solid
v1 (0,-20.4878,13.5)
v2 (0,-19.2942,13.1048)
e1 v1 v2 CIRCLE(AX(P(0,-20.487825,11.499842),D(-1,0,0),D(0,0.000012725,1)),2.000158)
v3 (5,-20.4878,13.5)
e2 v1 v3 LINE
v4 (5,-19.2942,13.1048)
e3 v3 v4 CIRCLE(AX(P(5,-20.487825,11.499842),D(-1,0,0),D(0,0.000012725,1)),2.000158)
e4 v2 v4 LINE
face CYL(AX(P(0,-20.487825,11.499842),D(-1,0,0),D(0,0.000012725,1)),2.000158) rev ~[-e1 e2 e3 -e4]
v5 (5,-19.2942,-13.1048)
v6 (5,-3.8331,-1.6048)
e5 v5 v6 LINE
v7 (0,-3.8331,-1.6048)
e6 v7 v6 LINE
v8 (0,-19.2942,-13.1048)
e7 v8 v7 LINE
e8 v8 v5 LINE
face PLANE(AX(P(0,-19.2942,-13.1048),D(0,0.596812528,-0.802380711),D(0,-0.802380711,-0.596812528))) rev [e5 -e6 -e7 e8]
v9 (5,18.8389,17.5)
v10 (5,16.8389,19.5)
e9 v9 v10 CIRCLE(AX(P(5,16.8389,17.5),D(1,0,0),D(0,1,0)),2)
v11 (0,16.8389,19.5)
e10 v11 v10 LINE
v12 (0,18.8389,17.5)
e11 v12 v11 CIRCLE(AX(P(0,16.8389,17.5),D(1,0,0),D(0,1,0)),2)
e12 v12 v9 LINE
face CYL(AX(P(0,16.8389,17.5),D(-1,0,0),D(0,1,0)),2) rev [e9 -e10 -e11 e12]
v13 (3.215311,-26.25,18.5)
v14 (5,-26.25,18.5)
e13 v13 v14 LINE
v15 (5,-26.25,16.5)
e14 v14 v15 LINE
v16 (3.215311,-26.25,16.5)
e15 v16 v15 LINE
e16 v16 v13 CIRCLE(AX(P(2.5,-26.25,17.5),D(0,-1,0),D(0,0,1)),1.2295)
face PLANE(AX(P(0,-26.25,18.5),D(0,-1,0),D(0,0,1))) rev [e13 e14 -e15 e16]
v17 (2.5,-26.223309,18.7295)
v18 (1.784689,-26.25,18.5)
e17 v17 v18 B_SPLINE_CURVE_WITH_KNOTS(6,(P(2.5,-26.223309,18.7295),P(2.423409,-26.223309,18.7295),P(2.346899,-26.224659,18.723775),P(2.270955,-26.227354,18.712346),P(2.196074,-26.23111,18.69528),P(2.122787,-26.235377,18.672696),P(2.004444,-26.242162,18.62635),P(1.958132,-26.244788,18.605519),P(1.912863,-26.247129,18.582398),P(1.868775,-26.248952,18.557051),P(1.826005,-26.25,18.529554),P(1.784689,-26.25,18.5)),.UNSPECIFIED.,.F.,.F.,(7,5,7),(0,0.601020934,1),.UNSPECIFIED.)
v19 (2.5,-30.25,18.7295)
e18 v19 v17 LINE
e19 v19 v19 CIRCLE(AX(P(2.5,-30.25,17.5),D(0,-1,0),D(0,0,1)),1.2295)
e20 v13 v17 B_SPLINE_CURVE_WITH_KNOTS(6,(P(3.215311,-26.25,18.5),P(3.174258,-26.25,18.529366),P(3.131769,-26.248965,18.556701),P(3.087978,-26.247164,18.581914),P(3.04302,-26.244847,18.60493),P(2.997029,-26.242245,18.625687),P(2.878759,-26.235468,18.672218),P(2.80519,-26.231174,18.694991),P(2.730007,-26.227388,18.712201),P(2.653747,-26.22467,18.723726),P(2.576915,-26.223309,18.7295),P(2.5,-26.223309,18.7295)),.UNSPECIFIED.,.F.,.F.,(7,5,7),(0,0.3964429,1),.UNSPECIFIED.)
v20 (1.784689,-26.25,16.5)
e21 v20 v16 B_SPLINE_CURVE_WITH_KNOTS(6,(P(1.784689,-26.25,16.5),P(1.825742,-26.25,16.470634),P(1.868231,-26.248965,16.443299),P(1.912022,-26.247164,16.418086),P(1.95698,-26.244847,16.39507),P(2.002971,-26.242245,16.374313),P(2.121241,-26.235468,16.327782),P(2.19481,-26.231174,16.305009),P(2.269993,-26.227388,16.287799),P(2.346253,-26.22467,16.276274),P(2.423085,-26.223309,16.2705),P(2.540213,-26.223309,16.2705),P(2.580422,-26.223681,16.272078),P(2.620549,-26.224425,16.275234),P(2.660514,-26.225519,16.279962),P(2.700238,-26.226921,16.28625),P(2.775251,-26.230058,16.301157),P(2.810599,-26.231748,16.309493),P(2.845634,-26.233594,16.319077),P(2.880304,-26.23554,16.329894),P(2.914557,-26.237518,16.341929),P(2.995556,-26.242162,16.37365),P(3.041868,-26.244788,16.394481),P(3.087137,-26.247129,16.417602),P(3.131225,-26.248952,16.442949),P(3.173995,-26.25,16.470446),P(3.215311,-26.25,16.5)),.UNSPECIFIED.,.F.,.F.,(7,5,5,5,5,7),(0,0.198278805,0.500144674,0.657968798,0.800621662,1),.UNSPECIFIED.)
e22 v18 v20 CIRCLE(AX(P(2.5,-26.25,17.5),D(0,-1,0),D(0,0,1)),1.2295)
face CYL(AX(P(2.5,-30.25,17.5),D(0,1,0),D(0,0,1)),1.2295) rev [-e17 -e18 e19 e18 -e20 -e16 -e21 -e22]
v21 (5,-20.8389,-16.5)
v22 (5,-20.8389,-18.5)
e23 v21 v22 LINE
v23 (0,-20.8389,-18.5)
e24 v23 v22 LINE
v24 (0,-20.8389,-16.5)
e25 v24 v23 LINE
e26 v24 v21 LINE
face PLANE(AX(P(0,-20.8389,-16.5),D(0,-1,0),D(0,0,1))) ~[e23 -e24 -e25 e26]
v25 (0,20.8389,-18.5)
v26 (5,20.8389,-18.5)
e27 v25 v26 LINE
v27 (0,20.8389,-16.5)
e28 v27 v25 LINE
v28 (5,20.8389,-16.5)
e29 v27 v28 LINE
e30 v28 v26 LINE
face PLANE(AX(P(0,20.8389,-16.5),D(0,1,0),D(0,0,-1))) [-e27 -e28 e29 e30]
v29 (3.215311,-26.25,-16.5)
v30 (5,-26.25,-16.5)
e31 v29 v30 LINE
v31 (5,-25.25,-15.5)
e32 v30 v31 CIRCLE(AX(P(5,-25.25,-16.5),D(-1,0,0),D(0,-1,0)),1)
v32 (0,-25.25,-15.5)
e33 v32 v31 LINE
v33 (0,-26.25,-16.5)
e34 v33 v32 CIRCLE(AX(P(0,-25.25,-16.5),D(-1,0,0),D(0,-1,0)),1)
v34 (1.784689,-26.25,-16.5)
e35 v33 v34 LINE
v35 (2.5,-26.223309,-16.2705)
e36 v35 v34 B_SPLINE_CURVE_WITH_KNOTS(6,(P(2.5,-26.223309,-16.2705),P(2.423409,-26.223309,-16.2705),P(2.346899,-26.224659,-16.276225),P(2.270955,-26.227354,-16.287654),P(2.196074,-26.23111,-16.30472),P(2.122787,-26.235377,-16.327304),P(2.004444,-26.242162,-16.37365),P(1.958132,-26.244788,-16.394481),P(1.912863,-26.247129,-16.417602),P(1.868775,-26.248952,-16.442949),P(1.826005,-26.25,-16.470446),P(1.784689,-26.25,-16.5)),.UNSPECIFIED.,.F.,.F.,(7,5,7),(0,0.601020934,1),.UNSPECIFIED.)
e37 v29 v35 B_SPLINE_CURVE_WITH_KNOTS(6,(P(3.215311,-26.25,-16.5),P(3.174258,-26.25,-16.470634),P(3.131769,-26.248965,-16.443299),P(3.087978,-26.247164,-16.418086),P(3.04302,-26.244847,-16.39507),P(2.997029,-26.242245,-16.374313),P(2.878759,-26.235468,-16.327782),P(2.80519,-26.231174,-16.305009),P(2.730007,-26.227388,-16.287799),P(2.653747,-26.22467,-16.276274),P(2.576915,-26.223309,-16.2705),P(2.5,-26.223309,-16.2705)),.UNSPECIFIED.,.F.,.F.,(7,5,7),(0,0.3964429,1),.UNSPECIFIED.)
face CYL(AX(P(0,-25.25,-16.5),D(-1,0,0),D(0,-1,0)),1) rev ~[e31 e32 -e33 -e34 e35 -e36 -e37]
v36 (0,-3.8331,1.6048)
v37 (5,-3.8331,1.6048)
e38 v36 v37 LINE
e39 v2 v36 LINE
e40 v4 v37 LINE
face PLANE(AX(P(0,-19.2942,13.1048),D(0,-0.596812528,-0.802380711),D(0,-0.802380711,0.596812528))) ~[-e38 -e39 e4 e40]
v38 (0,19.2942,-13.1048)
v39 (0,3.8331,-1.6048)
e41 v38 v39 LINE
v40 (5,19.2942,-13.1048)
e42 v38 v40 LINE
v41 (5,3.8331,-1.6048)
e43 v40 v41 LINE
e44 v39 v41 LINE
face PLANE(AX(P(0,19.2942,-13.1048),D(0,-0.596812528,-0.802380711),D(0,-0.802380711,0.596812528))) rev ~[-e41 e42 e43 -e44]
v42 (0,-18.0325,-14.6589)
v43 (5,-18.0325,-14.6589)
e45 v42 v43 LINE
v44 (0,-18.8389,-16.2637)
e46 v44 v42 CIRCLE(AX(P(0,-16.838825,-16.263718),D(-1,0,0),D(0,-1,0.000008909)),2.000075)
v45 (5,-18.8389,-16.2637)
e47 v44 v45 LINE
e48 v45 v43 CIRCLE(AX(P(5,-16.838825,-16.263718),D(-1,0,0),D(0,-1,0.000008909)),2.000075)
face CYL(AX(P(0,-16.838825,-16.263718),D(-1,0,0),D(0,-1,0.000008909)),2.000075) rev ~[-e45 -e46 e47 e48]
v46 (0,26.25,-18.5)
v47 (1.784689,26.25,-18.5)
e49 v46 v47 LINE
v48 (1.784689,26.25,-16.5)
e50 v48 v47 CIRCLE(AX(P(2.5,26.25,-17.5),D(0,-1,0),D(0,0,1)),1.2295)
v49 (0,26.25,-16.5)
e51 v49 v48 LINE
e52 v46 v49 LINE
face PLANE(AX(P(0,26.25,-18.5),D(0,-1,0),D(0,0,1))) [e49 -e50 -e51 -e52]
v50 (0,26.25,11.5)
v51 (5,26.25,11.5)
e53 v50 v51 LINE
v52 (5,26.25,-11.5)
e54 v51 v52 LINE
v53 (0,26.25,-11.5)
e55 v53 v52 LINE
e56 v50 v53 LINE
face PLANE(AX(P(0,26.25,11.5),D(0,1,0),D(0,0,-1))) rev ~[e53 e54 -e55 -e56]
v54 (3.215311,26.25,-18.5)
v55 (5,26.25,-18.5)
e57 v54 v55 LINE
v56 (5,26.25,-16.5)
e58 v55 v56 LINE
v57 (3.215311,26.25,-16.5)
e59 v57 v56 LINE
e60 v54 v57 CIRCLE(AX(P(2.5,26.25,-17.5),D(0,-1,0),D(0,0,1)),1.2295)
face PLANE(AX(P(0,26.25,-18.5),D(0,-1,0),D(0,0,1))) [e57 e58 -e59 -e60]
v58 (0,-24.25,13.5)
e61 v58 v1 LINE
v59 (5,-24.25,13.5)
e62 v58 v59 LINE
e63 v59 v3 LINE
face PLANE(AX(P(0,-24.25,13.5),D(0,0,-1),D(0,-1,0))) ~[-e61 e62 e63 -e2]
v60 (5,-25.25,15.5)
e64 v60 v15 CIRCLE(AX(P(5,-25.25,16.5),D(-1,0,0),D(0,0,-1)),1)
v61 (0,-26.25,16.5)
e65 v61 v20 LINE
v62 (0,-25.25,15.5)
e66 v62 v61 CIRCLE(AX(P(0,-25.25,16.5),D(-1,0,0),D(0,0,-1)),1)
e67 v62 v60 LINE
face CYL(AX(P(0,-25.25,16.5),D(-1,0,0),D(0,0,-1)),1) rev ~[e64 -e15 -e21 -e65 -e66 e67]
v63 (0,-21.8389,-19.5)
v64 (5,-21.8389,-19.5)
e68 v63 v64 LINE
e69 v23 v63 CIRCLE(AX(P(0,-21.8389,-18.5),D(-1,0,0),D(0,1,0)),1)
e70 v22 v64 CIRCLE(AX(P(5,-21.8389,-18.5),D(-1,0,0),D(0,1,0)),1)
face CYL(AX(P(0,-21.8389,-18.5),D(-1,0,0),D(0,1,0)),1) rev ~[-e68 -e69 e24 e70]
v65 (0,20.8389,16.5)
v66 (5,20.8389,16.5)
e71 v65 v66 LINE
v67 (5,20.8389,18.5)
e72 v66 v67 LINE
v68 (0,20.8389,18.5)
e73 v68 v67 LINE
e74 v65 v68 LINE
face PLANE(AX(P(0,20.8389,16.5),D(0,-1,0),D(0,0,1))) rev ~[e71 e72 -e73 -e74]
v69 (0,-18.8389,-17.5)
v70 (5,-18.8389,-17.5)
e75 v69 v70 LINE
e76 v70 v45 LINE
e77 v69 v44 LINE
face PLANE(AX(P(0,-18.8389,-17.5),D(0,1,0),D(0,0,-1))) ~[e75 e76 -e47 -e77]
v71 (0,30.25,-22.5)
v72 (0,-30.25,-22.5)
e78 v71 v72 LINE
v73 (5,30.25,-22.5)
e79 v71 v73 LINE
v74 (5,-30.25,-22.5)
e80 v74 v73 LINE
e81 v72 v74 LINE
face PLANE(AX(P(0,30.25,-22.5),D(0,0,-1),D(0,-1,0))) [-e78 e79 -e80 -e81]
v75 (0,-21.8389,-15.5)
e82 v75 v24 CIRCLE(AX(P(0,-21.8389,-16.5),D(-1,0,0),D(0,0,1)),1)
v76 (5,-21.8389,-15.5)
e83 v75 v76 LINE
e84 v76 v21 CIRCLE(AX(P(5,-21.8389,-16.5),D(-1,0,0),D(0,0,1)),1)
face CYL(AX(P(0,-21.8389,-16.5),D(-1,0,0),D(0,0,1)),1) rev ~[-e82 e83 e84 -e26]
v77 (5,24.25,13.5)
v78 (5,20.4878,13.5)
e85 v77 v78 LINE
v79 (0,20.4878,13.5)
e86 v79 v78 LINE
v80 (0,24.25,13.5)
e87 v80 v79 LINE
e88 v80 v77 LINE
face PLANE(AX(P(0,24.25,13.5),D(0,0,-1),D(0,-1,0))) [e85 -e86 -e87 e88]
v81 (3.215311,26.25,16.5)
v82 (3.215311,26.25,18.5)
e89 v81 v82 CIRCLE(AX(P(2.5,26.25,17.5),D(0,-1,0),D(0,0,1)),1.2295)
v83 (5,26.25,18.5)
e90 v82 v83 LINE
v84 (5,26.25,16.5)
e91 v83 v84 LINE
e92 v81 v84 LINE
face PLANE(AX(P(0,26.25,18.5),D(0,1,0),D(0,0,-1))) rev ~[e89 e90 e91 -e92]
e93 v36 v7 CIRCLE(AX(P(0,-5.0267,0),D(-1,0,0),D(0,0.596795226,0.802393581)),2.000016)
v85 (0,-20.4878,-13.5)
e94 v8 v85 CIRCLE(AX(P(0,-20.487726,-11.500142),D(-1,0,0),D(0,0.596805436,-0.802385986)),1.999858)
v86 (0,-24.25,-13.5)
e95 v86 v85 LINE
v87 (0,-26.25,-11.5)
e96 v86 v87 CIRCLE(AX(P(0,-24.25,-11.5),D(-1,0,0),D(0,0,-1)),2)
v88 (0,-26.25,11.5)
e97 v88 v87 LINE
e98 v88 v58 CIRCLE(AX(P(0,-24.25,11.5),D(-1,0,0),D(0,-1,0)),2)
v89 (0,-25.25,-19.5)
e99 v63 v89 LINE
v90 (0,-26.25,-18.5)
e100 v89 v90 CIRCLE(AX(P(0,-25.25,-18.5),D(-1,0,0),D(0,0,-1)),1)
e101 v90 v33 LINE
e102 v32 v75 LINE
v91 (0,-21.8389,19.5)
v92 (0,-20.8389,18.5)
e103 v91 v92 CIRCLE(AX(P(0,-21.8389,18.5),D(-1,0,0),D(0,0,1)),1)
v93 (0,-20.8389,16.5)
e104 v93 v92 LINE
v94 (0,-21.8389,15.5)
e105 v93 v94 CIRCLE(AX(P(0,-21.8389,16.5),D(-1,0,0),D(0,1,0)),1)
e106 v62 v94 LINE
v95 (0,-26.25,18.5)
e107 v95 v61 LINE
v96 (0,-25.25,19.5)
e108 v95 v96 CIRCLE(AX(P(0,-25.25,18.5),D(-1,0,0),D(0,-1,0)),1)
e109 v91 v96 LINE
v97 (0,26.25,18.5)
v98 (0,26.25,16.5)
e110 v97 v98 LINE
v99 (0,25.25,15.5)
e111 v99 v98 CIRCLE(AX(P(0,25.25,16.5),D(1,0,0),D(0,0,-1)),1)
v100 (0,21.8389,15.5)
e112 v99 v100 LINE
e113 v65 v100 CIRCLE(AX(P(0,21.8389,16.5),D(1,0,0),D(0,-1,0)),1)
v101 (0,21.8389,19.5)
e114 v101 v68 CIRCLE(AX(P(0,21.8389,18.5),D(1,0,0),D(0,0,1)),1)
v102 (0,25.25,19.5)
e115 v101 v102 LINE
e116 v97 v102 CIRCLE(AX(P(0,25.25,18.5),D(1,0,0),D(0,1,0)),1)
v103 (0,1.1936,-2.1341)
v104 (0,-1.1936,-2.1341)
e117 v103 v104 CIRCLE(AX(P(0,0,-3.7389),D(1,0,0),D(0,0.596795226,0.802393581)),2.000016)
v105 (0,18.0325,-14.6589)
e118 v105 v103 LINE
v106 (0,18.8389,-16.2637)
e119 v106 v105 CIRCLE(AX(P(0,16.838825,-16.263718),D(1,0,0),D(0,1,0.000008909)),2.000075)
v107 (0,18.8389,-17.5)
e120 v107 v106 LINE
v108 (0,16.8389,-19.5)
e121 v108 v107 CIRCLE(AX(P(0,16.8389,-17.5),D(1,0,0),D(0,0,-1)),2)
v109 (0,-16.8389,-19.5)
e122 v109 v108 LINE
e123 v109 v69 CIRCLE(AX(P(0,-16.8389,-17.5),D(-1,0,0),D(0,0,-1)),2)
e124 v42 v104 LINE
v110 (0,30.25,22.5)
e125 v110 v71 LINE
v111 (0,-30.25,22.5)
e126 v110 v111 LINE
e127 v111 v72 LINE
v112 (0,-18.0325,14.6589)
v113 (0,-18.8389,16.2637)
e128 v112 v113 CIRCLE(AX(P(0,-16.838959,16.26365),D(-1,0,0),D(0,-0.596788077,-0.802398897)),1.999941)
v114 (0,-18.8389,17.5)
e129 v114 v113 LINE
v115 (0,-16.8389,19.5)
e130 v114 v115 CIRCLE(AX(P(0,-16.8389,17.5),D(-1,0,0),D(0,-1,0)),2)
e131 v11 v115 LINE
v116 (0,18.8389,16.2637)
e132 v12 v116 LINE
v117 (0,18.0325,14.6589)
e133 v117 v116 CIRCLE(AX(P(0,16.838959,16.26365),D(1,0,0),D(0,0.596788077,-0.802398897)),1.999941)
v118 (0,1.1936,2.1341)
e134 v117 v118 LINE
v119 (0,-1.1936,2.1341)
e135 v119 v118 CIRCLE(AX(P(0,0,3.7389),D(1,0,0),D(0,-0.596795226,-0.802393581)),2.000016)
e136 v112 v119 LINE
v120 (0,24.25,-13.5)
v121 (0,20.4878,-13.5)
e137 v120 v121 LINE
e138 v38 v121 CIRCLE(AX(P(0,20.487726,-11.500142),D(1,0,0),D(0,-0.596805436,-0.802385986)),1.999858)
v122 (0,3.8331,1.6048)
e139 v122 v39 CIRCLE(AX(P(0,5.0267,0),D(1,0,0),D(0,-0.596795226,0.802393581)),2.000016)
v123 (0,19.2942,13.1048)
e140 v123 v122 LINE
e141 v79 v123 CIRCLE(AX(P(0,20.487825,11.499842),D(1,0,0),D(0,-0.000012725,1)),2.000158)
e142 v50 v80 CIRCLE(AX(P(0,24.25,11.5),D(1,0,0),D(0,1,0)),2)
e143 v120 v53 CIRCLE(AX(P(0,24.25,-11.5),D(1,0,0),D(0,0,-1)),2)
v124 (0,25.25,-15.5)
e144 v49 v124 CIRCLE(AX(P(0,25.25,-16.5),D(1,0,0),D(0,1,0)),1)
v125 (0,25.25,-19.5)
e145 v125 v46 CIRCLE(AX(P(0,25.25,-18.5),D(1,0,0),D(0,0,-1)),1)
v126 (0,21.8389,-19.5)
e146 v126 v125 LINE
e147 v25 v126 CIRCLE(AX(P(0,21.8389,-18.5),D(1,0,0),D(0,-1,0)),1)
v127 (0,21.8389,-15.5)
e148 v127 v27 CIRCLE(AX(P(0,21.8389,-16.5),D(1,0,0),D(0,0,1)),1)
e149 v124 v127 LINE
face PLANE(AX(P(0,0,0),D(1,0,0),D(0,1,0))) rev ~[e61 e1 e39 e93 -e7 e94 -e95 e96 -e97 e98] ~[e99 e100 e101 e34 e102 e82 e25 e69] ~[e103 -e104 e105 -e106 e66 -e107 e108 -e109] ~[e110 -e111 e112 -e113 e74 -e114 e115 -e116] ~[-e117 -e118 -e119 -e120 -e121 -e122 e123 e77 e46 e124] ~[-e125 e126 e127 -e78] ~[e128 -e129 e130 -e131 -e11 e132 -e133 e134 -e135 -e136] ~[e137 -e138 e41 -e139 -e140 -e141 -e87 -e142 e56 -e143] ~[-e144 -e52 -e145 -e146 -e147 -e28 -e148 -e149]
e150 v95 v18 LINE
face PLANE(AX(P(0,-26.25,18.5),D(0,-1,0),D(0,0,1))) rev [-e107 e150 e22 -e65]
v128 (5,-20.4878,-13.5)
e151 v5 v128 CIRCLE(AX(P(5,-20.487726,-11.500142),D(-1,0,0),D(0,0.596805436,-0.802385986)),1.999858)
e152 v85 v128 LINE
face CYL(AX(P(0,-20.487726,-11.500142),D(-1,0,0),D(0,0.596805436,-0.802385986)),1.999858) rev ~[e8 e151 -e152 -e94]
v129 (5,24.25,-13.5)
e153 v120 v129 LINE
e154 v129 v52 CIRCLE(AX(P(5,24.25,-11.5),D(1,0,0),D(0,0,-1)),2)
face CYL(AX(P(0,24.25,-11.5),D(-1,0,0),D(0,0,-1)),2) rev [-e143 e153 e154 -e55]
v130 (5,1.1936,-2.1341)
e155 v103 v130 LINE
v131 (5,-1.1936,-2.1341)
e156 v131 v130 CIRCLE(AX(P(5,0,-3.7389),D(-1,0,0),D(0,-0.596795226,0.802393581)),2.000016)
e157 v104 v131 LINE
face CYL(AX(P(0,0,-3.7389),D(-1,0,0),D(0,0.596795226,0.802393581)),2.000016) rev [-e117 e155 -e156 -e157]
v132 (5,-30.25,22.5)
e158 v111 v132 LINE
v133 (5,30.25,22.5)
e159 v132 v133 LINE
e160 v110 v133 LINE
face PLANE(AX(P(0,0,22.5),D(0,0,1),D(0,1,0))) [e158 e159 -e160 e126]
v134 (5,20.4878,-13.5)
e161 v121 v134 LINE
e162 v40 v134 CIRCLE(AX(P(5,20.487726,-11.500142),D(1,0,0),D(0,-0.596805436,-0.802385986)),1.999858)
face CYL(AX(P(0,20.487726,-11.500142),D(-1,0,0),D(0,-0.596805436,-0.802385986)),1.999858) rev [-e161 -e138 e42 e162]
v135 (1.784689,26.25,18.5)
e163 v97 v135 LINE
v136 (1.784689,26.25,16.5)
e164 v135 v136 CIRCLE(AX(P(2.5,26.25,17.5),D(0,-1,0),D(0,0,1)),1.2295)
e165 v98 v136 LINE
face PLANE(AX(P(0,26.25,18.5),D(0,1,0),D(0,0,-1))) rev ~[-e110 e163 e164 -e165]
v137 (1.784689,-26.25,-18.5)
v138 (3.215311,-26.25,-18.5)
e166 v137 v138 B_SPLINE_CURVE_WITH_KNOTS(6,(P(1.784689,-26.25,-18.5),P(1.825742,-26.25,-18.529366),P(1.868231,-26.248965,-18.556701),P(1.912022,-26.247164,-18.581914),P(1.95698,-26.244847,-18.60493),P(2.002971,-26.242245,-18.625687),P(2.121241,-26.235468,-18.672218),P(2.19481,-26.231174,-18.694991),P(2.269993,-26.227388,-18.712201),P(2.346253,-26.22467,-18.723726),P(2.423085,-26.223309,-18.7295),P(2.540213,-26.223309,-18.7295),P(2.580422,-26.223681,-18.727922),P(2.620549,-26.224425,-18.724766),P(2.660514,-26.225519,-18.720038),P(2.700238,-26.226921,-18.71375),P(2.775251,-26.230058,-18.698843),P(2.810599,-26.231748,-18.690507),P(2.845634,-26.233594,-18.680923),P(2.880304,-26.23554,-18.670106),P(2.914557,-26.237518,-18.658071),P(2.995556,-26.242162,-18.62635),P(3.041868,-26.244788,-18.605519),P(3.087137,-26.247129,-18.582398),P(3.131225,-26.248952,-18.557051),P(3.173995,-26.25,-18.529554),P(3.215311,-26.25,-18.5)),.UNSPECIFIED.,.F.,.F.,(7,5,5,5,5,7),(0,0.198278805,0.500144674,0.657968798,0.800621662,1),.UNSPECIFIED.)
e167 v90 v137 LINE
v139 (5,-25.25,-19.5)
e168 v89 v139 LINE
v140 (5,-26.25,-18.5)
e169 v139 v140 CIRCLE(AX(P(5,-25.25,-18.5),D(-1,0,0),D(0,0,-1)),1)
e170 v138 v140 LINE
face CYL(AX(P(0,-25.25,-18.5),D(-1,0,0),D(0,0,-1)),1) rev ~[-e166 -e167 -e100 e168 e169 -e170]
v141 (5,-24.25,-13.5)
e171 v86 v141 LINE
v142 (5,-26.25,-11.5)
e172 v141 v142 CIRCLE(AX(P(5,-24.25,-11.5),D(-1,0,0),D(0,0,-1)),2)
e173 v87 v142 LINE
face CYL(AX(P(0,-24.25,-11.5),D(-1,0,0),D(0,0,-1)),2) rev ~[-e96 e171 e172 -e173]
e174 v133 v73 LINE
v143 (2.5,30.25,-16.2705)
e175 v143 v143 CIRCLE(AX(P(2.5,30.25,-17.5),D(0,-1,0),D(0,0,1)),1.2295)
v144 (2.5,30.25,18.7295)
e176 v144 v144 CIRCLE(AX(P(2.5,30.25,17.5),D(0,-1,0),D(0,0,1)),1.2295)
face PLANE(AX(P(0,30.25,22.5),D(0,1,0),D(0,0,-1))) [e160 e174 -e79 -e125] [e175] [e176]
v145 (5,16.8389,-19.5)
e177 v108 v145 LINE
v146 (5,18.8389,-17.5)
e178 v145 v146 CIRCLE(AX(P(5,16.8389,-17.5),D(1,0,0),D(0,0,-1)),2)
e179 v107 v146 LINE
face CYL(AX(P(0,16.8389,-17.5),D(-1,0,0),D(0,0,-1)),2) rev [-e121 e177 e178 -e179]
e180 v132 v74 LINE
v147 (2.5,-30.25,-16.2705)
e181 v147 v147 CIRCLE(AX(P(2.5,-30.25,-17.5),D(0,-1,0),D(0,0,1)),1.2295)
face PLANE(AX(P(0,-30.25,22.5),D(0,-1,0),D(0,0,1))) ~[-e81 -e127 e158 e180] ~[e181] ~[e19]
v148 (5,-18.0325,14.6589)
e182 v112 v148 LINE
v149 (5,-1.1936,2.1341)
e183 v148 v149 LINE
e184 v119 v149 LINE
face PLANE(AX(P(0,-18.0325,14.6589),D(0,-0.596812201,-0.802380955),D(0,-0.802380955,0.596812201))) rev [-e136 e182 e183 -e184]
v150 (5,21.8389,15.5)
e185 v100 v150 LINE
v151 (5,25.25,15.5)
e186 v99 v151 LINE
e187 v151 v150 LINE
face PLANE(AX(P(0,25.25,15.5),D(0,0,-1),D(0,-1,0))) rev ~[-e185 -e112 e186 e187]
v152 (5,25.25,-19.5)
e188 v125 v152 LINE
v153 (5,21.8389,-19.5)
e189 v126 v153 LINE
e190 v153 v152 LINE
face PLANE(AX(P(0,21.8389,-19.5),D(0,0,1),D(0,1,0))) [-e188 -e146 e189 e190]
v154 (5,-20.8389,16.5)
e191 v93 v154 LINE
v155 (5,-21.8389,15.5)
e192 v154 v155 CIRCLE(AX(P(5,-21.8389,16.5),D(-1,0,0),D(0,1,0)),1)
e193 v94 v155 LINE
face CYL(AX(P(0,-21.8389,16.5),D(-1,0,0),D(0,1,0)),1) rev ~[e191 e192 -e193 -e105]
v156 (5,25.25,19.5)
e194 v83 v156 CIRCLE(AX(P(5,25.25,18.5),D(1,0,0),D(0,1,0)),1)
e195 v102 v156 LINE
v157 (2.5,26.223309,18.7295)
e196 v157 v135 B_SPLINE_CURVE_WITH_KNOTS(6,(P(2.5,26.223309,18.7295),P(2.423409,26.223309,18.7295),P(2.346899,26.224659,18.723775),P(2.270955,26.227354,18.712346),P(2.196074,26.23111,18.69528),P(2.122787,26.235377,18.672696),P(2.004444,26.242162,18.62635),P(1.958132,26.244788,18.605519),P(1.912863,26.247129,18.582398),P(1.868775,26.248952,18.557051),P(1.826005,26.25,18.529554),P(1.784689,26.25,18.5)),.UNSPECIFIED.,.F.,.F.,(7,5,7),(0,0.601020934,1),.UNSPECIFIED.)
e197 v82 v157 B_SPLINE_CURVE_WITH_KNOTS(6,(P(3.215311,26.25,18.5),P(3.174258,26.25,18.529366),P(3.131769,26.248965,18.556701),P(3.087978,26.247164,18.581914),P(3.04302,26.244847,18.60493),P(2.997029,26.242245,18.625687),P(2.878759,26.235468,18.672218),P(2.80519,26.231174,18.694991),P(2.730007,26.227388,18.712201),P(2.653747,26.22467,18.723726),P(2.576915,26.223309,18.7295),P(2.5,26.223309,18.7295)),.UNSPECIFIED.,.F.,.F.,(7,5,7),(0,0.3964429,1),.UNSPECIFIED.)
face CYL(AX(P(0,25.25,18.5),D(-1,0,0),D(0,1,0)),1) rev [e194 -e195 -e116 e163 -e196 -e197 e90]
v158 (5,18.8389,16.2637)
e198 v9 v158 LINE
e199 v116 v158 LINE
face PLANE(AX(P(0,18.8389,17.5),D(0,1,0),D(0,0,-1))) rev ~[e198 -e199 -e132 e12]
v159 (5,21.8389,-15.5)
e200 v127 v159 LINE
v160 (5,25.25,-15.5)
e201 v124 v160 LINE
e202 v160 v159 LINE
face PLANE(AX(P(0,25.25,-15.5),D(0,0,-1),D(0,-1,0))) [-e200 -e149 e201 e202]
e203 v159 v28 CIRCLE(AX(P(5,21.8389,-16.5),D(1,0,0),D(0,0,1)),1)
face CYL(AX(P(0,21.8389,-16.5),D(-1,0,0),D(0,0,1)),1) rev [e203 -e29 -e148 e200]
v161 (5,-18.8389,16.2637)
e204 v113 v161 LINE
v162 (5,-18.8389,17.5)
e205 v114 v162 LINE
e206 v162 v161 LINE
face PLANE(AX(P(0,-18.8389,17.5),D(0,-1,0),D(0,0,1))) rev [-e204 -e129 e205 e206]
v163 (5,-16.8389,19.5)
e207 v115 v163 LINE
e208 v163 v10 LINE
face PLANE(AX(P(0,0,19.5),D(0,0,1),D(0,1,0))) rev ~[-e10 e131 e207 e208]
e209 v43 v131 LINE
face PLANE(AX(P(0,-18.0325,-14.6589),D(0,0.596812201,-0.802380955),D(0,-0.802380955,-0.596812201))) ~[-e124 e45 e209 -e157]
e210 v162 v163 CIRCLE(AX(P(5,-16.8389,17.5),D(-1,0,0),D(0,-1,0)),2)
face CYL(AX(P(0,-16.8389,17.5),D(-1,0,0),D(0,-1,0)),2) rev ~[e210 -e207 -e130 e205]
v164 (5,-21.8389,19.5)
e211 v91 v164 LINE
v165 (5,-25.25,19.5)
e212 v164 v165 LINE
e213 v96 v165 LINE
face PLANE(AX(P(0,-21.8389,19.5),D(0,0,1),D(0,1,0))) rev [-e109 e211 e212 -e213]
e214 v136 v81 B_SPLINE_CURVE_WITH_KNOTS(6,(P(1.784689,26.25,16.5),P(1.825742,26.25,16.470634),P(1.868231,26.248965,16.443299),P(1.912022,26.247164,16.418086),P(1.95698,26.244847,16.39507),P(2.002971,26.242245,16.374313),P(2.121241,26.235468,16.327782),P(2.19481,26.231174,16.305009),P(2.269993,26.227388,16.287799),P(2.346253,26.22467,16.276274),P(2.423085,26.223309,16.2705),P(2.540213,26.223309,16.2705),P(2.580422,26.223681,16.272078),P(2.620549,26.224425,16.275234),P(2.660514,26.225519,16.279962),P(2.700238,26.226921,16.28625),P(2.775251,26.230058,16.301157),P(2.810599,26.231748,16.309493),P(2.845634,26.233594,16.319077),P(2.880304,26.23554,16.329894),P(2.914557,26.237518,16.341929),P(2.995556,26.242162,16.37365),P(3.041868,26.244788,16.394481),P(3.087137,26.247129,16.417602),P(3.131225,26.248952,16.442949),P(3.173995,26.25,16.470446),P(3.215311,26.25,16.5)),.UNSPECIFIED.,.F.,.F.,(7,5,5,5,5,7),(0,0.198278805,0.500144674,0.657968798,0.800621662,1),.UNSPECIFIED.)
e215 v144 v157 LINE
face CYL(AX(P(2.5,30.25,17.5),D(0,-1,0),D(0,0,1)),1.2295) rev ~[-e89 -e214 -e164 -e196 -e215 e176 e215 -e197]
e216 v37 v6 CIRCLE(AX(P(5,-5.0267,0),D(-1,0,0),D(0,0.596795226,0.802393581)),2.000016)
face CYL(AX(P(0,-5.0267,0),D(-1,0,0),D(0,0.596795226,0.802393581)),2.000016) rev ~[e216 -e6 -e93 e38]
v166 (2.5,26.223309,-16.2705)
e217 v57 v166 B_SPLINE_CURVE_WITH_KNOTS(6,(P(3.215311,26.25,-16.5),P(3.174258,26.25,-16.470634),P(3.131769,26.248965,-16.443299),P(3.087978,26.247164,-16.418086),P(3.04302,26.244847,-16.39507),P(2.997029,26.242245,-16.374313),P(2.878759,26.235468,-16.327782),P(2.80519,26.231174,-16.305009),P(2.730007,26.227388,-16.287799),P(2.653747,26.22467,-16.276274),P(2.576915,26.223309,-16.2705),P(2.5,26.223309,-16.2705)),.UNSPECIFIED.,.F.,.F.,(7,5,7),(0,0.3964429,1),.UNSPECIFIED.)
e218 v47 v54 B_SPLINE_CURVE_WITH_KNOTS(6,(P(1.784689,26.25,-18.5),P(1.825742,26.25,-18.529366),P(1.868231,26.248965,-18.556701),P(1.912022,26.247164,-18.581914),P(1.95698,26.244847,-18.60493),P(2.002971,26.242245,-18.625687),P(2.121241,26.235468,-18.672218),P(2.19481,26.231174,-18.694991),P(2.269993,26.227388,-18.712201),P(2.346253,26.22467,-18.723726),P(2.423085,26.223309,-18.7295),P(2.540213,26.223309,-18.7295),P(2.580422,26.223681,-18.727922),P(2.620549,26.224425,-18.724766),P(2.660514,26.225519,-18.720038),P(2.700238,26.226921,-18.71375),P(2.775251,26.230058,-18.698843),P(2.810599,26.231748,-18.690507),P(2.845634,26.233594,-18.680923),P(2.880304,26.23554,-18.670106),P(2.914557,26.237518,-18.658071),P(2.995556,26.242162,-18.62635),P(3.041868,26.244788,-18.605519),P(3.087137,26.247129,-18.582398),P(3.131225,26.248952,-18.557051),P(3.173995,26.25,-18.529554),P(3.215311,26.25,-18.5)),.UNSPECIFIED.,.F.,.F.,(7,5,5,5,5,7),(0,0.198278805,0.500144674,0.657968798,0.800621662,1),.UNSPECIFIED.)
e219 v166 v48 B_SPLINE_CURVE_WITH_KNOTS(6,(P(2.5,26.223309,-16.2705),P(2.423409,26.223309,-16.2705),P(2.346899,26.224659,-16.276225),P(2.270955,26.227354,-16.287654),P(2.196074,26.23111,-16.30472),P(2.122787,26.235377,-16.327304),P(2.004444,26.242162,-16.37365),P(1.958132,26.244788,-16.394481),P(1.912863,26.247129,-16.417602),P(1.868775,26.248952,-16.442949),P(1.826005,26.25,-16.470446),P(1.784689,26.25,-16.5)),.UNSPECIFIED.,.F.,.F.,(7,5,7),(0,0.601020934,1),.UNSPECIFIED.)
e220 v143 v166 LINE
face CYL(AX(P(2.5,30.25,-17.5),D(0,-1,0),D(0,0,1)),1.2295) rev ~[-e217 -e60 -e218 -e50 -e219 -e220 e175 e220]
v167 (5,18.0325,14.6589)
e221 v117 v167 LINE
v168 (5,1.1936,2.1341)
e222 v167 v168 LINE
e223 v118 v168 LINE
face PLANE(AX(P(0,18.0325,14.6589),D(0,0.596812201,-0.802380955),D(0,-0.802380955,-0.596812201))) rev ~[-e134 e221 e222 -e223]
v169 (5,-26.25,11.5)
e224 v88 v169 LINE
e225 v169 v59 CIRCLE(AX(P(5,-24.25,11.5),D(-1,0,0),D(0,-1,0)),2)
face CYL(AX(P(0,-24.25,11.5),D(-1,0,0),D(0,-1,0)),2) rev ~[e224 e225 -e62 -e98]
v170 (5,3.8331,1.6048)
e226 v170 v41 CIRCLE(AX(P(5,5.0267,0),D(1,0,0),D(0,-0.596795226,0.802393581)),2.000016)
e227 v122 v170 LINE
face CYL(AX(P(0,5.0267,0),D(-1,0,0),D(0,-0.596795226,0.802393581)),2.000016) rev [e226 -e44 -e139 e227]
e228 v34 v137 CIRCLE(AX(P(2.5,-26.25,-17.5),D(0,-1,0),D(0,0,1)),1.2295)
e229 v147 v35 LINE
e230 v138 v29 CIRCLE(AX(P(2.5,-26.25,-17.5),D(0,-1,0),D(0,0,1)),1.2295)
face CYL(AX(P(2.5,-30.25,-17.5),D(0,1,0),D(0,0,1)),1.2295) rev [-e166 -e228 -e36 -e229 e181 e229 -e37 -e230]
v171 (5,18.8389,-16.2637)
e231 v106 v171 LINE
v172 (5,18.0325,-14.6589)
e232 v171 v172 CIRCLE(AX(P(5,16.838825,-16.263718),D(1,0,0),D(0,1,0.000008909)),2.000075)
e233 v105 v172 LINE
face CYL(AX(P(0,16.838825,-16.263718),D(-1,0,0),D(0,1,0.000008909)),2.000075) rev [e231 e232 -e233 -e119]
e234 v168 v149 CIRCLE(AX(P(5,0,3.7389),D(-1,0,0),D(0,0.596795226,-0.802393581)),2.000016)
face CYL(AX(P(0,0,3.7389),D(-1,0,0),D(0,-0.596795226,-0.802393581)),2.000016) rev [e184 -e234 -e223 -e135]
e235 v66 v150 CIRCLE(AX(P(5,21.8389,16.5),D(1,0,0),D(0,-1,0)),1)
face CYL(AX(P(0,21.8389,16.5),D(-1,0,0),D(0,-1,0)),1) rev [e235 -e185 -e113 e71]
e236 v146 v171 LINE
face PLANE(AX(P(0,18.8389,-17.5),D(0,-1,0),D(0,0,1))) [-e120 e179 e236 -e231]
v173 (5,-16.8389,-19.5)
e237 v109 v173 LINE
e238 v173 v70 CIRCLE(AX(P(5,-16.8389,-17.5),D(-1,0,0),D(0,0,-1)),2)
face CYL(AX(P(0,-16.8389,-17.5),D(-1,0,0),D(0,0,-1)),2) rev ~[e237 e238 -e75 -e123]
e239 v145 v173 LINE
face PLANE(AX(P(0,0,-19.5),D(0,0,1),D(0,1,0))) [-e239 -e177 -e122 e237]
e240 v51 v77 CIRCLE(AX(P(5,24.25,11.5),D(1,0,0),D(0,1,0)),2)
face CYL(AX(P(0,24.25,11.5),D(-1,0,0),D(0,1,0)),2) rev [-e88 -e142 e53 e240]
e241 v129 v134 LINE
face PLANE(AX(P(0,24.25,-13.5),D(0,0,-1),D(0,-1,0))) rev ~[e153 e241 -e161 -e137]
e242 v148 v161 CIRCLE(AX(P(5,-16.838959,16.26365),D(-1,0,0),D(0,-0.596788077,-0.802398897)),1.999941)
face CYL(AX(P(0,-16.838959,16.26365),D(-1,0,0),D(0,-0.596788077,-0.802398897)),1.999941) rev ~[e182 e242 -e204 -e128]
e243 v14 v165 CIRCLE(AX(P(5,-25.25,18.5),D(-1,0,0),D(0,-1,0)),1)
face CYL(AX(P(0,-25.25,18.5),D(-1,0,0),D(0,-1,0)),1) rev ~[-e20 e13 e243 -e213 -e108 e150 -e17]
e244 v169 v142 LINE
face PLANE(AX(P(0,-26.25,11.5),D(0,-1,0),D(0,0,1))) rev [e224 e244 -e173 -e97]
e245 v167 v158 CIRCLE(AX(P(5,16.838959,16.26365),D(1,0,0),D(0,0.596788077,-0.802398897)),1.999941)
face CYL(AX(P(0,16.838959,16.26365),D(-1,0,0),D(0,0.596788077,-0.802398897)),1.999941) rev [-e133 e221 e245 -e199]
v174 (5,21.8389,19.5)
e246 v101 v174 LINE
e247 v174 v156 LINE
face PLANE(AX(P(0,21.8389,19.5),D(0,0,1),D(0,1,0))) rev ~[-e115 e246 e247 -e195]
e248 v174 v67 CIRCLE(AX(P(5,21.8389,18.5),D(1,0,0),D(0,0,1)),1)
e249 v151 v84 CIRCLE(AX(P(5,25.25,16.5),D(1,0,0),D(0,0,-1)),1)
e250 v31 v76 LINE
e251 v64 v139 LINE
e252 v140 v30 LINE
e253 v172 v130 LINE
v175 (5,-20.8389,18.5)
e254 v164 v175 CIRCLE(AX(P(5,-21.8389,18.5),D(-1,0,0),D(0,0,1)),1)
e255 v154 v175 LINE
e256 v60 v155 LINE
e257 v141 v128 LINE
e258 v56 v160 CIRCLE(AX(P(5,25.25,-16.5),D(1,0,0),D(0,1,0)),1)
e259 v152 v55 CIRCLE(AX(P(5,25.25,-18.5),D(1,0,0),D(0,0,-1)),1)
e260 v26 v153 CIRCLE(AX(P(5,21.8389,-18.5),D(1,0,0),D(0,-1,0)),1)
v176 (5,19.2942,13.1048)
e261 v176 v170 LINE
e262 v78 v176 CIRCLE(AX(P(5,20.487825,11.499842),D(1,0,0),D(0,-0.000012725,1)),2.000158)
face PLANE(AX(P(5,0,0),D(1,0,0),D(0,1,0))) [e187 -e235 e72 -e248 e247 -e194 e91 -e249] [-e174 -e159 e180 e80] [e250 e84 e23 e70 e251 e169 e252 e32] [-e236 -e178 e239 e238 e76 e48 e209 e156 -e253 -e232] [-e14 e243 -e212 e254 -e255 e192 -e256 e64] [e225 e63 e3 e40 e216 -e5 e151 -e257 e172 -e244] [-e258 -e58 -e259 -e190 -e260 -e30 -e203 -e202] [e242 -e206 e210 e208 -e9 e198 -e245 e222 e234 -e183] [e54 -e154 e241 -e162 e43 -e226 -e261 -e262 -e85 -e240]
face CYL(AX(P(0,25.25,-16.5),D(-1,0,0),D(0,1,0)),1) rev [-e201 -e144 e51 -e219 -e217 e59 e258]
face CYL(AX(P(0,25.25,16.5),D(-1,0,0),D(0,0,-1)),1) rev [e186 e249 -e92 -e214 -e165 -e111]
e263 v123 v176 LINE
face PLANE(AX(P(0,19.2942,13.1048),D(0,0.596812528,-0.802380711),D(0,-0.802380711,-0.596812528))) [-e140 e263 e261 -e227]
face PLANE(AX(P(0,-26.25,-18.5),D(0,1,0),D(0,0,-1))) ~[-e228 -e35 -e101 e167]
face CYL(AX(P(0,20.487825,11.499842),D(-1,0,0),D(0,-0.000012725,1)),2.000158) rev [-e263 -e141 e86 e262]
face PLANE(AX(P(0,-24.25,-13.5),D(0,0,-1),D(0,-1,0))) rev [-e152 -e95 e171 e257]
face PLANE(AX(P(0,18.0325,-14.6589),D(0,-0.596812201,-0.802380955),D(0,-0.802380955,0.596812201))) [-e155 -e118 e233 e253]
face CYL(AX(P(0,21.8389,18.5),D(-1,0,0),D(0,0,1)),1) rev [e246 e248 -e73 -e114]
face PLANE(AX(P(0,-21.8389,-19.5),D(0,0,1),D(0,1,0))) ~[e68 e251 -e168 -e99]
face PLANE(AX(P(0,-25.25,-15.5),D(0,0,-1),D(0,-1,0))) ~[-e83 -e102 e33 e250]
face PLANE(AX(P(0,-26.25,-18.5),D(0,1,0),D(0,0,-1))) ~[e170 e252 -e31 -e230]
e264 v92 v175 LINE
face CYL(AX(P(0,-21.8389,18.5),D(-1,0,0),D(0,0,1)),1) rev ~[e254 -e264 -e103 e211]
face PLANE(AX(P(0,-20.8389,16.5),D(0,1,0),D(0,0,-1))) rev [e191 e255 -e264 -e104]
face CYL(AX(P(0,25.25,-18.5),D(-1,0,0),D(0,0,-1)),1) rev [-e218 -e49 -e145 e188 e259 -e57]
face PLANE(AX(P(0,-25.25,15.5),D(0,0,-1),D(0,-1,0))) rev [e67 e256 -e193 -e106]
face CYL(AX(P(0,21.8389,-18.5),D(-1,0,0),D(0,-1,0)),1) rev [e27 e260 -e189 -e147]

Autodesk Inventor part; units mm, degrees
ref_plane "YZ Plane" through (0, 0, 0) normal (1, 0, 0) x (0, 1, 0)
ref_plane "XZ Plane" through (0, 0, 0) normal (0, 1, 0) x (-1, 0, 0)
ref_plane "XY Plane" through (0, 0, 0) normal (0, 0, 1) x (1, 0, 0)
sketch "スケッチ1" plane through (0, 0, 0) normal (1, 0, 0) x (0, 1, 0)
  line L0 (-30.25, 22.5) -> (30.25, 22.5)
  line L1 (30.25, 22.5) -> (30.25, -22.5)
  line L2 (30.25, -22.5) -> (-30.25, -22.5)
  line L3 (-30.25, -22.5) -> (-30.25, 22.5)
  line L4 (-30.25, 22.5) -> (30.25, -22.5) construction
  line L5 (30.25, 22.5) -> (-30.25, -22.5) construction
  line L6 (30.25, 17.5) -> (26.25, 17.5) construction
  line L7 (26.25, 19) -> (26.25, 16) construction
  line L8 (26.25, 16) -> (30.25, 16) construction
  line L9 (26.25, 19) -> (30.25, 19) construction
  line L10 (0, 22.5) -> (0, -22.5)
  line L11 (-30.25, 0) -> (30.25, 0) construction
  line L12 (30.25, -17.5) -> (26.25, -17.5) construction
  line L13 (26.25, -19) -> (26.25, -16) construction
  line L14 (26.25, -16) -> (30.25, -16) construction
  line L15 (26.25, -19) -> (30.25, -19) construction
  line L16 (26.25, 1.5) -> (26.25, -1.5) construction
  line L17 (26.25, -1.5) -> (30.25, -1.5) construction
  line L18 (26.25, 1.5) -> (30.25, 1.5) construction
  line L19 (21.8389, 19.5) -> (25.25, 19.5)
  line L20 (26.25, 18.5) -> (26.25, 16.5)
  line L21 (25.25, 15.5) -> (21.8389, 15.5)
  line L22 (20.8389, 16.5) -> (20.8389, 18.5)
  line L23 (20.8389, 19.5) -> (26.25, 15.5) construction
  line L24 (26.25, 19.5) -> (20.8389, 15.5) construction
  arc A0 (21.8389, 19.5) -> (20.8389, 18.5) centre (21.8389, 18.5) ccw
  arc A1 (20.8389, 16.5) -> (21.8389, 15.5) centre (21.8389, 16.5) ccw
  arc A2 (25.25, 15.5) -> (26.25, 16.5) centre (25.25, 16.5) ccw
  arc A3 (26.25, 18.5) -> (25.25, 19.5) centre (25.25, 18.5) ccw
  line L25 (24.25, 13.5) -> (20.4878, 13.5)
  line L26 (19.2942, 13.1048) -> (3.8331, 1.6048)
  line L27 (24.25, -13.5) -> (20.4878, -13.5)
  line L28 (19.2942, -13.1048) -> (3.8331, -1.6048)
  line L29 (26.25, 11.5) -> (26.25, -11.5)
  line L30 (18.8389, 17.5) -> (18.8389, 16.2637)
  line L31 (18.0325, 14.6589) -> (1.1936, 2.1341)
  line L32 (-18.8389, 17.5) -> (-18.8389, 16.2637)
  line L33 (-18.0325, 14.6589) -> (-1.1936, 2.1341)
  line L34 (-16.8389, 19.5) -> (16.8389, 19.5)
  arc A4 (-16.8389, 19.5) -> (-18.8389, 17.5) centre (-16.8389, 17.5) ccw
  arc A5 (-18.8389, 16.2637) -> (-18.0325, 14.6589) centre (-16.8389, 16.2637) ccw
  arc A6 (-1.1936, 2.1341) -> (1.1936, 2.1341) centre (0, 3.7389) ccw
  arc A7 (18.0325, 14.6589) -> (18.8389, 16.2637) centre (16.8389, 16.2637) ccw
  arc A8 (18.8389, 17.5) -> (16.8389, 19.5) centre (16.8389, 17.5) ccw
  arc A9 (20.4878, 13.5) -> (19.2942, 13.1048) centre (20.4878, 11.5) ccw
  arc A10 (3.8331, 1.6048) -> (3.8331, -1.6048) centre (5.0267, 0) ccw
  arc A11 (19.2942, -13.1048) -> (20.4878, -13.5) centre (20.4878, -11.5) ccw
  arc A12 (24.25, -13.5) -> (26.25, -11.5) centre (24.25, -11.5) ccw
  arc A13 (26.25, 11.5) -> (24.25, 13.5) centre (24.25, 11.5) ccw
  line L35 (18.8389, -17.5) -> (18.8389, -16.2637)
  line L36 (18.0325, -14.6589) -> (1.1936, -2.1341)
  line L37 (-18.8389, -17.5) -> (-18.8389, -16.2637)
  line L38 (-18.0325, -14.6589) -> (-1.1936, -2.1341)
  line L39 (-16.8389, -19.5) -> (16.8389, -19.5)
  arc A14 (-18.8389, -17.5) -> (-16.8389, -19.5) centre (-16.8389, -17.5) ccw
  arc A15 (-18.0325, -14.6589) -> (-18.8389, -16.2637) centre (-16.8389, -16.2637) ccw
  arc A16 (1.1936, -2.1341) -> (-1.1936, -2.1341) centre (0, -3.7389) ccw
  arc A17 (18.8389, -16.2637) -> (18.0325, -14.6589) centre (16.8389, -16.2637) ccw
  arc A18 (16.8389, -19.5) -> (18.8389, -17.5) centre (16.8389, -17.5) ccw
  line L40 (21.8389, -19.5) -> (25.25, -19.5)
  line L41 (26.25, -18.5) -> (26.25, -16.5)
  line L42 (25.25, -15.5) -> (21.8389, -15.5)
  line L43 (20.8389, -16.5) -> (20.8389, -18.5)
  arc A19 (20.8389, -18.5) -> (21.8389, -19.5) centre (21.8389, -18.5) ccw
  arc A20 (21.8389, -15.5) -> (20.8389, -16.5) centre (21.8389, -16.5) ccw
  arc A21 (26.25, -16.5) -> (25.25, -15.5) centre (25.25, -16.5) ccw
  arc A22 (25.25, -19.5) -> (26.25, -18.5) centre (25.25, -18.5) ccw
  point P0 (0, 0)
  point P1 (26.25, 0)
  point P2 (23.5444, 17.5)
  point P3 (26.25, 13.5)
  point P4 (19.8256, 13.5)
  point P5 (1.6756, 0)
  point P6 (26.25, -13.5)
  point P7 (19.8256, -13.5)
  point P8 (18.8389, 19.5)
  point P9 (18.8389, 15.2587)
  point P10 (0, 1.2463)
  point P11 (-18.8389, 19.5)
  point P12 (-18.8389, 15.2587)
  point P13 (0, -19.5)
  point P14 (0, 19.5)
  point P15 (0, 1.7389)
  point P16 (0, -1.7389)
  dimension "d0" = 60.5
  dimension "d1" = 45
  dimension "d2" = 4
  dimension "d3" = 3
  dimension "d5" = 3
  dimension "d6" = 35
  dimension "d8" = 1
  dimension "d10" = 3
  dimension "d11" = 2
  dimension "d12" = 2
  dimension "d13" = 2
  dimension "d14" = 2
extrude "押し出し1" add sketch "スケッチ1" along normal blind 5 contours L0 L1 L2 L10 L39 A18 L35 A17 L36 A16 A6 L31 A7 L30 A8 L34
sketch "スケッチ2" plane through (0, 30.25, 22.5) normal (0, 1, 0) x (1, 0, 0)
  line L0 (5, 45) -> (5, 0) projected
  line L1 (5, 5) -> (0, 5) construction
  line L2 (0, 45) -> (0, 0) projected
  line L3 (5, 40) -> (0, 40) construction
  line L4 (5, 5) -> (0, 5) construction
  line L5 (5, 22.5) -> (0, 22.5) construction
  point P0 (2.5, 22.5)
  point P1 (2.5, 5)
  point P2 (2.5, 40)
  point P3 (2.5, 40)
  point P4 (2.5, 5)
  point P5 (2.5, 22.5)
hole "穴1" at (2.5, 30.25, -17.5) at (2.5, 30.25, 17.5) direction (0, -1, 0) diameter 2.459 depth 5 thread size "M3x0.5" class "6H" standard "ISO Metric profile"
mirror "ミラー1" about plane through (0, 0, 22.5) normal (0, -1, 0)
equation "\"d13\" = d11"
properties part number "FrontLink_diagonal" material "アルミニウム 2014-T4"
